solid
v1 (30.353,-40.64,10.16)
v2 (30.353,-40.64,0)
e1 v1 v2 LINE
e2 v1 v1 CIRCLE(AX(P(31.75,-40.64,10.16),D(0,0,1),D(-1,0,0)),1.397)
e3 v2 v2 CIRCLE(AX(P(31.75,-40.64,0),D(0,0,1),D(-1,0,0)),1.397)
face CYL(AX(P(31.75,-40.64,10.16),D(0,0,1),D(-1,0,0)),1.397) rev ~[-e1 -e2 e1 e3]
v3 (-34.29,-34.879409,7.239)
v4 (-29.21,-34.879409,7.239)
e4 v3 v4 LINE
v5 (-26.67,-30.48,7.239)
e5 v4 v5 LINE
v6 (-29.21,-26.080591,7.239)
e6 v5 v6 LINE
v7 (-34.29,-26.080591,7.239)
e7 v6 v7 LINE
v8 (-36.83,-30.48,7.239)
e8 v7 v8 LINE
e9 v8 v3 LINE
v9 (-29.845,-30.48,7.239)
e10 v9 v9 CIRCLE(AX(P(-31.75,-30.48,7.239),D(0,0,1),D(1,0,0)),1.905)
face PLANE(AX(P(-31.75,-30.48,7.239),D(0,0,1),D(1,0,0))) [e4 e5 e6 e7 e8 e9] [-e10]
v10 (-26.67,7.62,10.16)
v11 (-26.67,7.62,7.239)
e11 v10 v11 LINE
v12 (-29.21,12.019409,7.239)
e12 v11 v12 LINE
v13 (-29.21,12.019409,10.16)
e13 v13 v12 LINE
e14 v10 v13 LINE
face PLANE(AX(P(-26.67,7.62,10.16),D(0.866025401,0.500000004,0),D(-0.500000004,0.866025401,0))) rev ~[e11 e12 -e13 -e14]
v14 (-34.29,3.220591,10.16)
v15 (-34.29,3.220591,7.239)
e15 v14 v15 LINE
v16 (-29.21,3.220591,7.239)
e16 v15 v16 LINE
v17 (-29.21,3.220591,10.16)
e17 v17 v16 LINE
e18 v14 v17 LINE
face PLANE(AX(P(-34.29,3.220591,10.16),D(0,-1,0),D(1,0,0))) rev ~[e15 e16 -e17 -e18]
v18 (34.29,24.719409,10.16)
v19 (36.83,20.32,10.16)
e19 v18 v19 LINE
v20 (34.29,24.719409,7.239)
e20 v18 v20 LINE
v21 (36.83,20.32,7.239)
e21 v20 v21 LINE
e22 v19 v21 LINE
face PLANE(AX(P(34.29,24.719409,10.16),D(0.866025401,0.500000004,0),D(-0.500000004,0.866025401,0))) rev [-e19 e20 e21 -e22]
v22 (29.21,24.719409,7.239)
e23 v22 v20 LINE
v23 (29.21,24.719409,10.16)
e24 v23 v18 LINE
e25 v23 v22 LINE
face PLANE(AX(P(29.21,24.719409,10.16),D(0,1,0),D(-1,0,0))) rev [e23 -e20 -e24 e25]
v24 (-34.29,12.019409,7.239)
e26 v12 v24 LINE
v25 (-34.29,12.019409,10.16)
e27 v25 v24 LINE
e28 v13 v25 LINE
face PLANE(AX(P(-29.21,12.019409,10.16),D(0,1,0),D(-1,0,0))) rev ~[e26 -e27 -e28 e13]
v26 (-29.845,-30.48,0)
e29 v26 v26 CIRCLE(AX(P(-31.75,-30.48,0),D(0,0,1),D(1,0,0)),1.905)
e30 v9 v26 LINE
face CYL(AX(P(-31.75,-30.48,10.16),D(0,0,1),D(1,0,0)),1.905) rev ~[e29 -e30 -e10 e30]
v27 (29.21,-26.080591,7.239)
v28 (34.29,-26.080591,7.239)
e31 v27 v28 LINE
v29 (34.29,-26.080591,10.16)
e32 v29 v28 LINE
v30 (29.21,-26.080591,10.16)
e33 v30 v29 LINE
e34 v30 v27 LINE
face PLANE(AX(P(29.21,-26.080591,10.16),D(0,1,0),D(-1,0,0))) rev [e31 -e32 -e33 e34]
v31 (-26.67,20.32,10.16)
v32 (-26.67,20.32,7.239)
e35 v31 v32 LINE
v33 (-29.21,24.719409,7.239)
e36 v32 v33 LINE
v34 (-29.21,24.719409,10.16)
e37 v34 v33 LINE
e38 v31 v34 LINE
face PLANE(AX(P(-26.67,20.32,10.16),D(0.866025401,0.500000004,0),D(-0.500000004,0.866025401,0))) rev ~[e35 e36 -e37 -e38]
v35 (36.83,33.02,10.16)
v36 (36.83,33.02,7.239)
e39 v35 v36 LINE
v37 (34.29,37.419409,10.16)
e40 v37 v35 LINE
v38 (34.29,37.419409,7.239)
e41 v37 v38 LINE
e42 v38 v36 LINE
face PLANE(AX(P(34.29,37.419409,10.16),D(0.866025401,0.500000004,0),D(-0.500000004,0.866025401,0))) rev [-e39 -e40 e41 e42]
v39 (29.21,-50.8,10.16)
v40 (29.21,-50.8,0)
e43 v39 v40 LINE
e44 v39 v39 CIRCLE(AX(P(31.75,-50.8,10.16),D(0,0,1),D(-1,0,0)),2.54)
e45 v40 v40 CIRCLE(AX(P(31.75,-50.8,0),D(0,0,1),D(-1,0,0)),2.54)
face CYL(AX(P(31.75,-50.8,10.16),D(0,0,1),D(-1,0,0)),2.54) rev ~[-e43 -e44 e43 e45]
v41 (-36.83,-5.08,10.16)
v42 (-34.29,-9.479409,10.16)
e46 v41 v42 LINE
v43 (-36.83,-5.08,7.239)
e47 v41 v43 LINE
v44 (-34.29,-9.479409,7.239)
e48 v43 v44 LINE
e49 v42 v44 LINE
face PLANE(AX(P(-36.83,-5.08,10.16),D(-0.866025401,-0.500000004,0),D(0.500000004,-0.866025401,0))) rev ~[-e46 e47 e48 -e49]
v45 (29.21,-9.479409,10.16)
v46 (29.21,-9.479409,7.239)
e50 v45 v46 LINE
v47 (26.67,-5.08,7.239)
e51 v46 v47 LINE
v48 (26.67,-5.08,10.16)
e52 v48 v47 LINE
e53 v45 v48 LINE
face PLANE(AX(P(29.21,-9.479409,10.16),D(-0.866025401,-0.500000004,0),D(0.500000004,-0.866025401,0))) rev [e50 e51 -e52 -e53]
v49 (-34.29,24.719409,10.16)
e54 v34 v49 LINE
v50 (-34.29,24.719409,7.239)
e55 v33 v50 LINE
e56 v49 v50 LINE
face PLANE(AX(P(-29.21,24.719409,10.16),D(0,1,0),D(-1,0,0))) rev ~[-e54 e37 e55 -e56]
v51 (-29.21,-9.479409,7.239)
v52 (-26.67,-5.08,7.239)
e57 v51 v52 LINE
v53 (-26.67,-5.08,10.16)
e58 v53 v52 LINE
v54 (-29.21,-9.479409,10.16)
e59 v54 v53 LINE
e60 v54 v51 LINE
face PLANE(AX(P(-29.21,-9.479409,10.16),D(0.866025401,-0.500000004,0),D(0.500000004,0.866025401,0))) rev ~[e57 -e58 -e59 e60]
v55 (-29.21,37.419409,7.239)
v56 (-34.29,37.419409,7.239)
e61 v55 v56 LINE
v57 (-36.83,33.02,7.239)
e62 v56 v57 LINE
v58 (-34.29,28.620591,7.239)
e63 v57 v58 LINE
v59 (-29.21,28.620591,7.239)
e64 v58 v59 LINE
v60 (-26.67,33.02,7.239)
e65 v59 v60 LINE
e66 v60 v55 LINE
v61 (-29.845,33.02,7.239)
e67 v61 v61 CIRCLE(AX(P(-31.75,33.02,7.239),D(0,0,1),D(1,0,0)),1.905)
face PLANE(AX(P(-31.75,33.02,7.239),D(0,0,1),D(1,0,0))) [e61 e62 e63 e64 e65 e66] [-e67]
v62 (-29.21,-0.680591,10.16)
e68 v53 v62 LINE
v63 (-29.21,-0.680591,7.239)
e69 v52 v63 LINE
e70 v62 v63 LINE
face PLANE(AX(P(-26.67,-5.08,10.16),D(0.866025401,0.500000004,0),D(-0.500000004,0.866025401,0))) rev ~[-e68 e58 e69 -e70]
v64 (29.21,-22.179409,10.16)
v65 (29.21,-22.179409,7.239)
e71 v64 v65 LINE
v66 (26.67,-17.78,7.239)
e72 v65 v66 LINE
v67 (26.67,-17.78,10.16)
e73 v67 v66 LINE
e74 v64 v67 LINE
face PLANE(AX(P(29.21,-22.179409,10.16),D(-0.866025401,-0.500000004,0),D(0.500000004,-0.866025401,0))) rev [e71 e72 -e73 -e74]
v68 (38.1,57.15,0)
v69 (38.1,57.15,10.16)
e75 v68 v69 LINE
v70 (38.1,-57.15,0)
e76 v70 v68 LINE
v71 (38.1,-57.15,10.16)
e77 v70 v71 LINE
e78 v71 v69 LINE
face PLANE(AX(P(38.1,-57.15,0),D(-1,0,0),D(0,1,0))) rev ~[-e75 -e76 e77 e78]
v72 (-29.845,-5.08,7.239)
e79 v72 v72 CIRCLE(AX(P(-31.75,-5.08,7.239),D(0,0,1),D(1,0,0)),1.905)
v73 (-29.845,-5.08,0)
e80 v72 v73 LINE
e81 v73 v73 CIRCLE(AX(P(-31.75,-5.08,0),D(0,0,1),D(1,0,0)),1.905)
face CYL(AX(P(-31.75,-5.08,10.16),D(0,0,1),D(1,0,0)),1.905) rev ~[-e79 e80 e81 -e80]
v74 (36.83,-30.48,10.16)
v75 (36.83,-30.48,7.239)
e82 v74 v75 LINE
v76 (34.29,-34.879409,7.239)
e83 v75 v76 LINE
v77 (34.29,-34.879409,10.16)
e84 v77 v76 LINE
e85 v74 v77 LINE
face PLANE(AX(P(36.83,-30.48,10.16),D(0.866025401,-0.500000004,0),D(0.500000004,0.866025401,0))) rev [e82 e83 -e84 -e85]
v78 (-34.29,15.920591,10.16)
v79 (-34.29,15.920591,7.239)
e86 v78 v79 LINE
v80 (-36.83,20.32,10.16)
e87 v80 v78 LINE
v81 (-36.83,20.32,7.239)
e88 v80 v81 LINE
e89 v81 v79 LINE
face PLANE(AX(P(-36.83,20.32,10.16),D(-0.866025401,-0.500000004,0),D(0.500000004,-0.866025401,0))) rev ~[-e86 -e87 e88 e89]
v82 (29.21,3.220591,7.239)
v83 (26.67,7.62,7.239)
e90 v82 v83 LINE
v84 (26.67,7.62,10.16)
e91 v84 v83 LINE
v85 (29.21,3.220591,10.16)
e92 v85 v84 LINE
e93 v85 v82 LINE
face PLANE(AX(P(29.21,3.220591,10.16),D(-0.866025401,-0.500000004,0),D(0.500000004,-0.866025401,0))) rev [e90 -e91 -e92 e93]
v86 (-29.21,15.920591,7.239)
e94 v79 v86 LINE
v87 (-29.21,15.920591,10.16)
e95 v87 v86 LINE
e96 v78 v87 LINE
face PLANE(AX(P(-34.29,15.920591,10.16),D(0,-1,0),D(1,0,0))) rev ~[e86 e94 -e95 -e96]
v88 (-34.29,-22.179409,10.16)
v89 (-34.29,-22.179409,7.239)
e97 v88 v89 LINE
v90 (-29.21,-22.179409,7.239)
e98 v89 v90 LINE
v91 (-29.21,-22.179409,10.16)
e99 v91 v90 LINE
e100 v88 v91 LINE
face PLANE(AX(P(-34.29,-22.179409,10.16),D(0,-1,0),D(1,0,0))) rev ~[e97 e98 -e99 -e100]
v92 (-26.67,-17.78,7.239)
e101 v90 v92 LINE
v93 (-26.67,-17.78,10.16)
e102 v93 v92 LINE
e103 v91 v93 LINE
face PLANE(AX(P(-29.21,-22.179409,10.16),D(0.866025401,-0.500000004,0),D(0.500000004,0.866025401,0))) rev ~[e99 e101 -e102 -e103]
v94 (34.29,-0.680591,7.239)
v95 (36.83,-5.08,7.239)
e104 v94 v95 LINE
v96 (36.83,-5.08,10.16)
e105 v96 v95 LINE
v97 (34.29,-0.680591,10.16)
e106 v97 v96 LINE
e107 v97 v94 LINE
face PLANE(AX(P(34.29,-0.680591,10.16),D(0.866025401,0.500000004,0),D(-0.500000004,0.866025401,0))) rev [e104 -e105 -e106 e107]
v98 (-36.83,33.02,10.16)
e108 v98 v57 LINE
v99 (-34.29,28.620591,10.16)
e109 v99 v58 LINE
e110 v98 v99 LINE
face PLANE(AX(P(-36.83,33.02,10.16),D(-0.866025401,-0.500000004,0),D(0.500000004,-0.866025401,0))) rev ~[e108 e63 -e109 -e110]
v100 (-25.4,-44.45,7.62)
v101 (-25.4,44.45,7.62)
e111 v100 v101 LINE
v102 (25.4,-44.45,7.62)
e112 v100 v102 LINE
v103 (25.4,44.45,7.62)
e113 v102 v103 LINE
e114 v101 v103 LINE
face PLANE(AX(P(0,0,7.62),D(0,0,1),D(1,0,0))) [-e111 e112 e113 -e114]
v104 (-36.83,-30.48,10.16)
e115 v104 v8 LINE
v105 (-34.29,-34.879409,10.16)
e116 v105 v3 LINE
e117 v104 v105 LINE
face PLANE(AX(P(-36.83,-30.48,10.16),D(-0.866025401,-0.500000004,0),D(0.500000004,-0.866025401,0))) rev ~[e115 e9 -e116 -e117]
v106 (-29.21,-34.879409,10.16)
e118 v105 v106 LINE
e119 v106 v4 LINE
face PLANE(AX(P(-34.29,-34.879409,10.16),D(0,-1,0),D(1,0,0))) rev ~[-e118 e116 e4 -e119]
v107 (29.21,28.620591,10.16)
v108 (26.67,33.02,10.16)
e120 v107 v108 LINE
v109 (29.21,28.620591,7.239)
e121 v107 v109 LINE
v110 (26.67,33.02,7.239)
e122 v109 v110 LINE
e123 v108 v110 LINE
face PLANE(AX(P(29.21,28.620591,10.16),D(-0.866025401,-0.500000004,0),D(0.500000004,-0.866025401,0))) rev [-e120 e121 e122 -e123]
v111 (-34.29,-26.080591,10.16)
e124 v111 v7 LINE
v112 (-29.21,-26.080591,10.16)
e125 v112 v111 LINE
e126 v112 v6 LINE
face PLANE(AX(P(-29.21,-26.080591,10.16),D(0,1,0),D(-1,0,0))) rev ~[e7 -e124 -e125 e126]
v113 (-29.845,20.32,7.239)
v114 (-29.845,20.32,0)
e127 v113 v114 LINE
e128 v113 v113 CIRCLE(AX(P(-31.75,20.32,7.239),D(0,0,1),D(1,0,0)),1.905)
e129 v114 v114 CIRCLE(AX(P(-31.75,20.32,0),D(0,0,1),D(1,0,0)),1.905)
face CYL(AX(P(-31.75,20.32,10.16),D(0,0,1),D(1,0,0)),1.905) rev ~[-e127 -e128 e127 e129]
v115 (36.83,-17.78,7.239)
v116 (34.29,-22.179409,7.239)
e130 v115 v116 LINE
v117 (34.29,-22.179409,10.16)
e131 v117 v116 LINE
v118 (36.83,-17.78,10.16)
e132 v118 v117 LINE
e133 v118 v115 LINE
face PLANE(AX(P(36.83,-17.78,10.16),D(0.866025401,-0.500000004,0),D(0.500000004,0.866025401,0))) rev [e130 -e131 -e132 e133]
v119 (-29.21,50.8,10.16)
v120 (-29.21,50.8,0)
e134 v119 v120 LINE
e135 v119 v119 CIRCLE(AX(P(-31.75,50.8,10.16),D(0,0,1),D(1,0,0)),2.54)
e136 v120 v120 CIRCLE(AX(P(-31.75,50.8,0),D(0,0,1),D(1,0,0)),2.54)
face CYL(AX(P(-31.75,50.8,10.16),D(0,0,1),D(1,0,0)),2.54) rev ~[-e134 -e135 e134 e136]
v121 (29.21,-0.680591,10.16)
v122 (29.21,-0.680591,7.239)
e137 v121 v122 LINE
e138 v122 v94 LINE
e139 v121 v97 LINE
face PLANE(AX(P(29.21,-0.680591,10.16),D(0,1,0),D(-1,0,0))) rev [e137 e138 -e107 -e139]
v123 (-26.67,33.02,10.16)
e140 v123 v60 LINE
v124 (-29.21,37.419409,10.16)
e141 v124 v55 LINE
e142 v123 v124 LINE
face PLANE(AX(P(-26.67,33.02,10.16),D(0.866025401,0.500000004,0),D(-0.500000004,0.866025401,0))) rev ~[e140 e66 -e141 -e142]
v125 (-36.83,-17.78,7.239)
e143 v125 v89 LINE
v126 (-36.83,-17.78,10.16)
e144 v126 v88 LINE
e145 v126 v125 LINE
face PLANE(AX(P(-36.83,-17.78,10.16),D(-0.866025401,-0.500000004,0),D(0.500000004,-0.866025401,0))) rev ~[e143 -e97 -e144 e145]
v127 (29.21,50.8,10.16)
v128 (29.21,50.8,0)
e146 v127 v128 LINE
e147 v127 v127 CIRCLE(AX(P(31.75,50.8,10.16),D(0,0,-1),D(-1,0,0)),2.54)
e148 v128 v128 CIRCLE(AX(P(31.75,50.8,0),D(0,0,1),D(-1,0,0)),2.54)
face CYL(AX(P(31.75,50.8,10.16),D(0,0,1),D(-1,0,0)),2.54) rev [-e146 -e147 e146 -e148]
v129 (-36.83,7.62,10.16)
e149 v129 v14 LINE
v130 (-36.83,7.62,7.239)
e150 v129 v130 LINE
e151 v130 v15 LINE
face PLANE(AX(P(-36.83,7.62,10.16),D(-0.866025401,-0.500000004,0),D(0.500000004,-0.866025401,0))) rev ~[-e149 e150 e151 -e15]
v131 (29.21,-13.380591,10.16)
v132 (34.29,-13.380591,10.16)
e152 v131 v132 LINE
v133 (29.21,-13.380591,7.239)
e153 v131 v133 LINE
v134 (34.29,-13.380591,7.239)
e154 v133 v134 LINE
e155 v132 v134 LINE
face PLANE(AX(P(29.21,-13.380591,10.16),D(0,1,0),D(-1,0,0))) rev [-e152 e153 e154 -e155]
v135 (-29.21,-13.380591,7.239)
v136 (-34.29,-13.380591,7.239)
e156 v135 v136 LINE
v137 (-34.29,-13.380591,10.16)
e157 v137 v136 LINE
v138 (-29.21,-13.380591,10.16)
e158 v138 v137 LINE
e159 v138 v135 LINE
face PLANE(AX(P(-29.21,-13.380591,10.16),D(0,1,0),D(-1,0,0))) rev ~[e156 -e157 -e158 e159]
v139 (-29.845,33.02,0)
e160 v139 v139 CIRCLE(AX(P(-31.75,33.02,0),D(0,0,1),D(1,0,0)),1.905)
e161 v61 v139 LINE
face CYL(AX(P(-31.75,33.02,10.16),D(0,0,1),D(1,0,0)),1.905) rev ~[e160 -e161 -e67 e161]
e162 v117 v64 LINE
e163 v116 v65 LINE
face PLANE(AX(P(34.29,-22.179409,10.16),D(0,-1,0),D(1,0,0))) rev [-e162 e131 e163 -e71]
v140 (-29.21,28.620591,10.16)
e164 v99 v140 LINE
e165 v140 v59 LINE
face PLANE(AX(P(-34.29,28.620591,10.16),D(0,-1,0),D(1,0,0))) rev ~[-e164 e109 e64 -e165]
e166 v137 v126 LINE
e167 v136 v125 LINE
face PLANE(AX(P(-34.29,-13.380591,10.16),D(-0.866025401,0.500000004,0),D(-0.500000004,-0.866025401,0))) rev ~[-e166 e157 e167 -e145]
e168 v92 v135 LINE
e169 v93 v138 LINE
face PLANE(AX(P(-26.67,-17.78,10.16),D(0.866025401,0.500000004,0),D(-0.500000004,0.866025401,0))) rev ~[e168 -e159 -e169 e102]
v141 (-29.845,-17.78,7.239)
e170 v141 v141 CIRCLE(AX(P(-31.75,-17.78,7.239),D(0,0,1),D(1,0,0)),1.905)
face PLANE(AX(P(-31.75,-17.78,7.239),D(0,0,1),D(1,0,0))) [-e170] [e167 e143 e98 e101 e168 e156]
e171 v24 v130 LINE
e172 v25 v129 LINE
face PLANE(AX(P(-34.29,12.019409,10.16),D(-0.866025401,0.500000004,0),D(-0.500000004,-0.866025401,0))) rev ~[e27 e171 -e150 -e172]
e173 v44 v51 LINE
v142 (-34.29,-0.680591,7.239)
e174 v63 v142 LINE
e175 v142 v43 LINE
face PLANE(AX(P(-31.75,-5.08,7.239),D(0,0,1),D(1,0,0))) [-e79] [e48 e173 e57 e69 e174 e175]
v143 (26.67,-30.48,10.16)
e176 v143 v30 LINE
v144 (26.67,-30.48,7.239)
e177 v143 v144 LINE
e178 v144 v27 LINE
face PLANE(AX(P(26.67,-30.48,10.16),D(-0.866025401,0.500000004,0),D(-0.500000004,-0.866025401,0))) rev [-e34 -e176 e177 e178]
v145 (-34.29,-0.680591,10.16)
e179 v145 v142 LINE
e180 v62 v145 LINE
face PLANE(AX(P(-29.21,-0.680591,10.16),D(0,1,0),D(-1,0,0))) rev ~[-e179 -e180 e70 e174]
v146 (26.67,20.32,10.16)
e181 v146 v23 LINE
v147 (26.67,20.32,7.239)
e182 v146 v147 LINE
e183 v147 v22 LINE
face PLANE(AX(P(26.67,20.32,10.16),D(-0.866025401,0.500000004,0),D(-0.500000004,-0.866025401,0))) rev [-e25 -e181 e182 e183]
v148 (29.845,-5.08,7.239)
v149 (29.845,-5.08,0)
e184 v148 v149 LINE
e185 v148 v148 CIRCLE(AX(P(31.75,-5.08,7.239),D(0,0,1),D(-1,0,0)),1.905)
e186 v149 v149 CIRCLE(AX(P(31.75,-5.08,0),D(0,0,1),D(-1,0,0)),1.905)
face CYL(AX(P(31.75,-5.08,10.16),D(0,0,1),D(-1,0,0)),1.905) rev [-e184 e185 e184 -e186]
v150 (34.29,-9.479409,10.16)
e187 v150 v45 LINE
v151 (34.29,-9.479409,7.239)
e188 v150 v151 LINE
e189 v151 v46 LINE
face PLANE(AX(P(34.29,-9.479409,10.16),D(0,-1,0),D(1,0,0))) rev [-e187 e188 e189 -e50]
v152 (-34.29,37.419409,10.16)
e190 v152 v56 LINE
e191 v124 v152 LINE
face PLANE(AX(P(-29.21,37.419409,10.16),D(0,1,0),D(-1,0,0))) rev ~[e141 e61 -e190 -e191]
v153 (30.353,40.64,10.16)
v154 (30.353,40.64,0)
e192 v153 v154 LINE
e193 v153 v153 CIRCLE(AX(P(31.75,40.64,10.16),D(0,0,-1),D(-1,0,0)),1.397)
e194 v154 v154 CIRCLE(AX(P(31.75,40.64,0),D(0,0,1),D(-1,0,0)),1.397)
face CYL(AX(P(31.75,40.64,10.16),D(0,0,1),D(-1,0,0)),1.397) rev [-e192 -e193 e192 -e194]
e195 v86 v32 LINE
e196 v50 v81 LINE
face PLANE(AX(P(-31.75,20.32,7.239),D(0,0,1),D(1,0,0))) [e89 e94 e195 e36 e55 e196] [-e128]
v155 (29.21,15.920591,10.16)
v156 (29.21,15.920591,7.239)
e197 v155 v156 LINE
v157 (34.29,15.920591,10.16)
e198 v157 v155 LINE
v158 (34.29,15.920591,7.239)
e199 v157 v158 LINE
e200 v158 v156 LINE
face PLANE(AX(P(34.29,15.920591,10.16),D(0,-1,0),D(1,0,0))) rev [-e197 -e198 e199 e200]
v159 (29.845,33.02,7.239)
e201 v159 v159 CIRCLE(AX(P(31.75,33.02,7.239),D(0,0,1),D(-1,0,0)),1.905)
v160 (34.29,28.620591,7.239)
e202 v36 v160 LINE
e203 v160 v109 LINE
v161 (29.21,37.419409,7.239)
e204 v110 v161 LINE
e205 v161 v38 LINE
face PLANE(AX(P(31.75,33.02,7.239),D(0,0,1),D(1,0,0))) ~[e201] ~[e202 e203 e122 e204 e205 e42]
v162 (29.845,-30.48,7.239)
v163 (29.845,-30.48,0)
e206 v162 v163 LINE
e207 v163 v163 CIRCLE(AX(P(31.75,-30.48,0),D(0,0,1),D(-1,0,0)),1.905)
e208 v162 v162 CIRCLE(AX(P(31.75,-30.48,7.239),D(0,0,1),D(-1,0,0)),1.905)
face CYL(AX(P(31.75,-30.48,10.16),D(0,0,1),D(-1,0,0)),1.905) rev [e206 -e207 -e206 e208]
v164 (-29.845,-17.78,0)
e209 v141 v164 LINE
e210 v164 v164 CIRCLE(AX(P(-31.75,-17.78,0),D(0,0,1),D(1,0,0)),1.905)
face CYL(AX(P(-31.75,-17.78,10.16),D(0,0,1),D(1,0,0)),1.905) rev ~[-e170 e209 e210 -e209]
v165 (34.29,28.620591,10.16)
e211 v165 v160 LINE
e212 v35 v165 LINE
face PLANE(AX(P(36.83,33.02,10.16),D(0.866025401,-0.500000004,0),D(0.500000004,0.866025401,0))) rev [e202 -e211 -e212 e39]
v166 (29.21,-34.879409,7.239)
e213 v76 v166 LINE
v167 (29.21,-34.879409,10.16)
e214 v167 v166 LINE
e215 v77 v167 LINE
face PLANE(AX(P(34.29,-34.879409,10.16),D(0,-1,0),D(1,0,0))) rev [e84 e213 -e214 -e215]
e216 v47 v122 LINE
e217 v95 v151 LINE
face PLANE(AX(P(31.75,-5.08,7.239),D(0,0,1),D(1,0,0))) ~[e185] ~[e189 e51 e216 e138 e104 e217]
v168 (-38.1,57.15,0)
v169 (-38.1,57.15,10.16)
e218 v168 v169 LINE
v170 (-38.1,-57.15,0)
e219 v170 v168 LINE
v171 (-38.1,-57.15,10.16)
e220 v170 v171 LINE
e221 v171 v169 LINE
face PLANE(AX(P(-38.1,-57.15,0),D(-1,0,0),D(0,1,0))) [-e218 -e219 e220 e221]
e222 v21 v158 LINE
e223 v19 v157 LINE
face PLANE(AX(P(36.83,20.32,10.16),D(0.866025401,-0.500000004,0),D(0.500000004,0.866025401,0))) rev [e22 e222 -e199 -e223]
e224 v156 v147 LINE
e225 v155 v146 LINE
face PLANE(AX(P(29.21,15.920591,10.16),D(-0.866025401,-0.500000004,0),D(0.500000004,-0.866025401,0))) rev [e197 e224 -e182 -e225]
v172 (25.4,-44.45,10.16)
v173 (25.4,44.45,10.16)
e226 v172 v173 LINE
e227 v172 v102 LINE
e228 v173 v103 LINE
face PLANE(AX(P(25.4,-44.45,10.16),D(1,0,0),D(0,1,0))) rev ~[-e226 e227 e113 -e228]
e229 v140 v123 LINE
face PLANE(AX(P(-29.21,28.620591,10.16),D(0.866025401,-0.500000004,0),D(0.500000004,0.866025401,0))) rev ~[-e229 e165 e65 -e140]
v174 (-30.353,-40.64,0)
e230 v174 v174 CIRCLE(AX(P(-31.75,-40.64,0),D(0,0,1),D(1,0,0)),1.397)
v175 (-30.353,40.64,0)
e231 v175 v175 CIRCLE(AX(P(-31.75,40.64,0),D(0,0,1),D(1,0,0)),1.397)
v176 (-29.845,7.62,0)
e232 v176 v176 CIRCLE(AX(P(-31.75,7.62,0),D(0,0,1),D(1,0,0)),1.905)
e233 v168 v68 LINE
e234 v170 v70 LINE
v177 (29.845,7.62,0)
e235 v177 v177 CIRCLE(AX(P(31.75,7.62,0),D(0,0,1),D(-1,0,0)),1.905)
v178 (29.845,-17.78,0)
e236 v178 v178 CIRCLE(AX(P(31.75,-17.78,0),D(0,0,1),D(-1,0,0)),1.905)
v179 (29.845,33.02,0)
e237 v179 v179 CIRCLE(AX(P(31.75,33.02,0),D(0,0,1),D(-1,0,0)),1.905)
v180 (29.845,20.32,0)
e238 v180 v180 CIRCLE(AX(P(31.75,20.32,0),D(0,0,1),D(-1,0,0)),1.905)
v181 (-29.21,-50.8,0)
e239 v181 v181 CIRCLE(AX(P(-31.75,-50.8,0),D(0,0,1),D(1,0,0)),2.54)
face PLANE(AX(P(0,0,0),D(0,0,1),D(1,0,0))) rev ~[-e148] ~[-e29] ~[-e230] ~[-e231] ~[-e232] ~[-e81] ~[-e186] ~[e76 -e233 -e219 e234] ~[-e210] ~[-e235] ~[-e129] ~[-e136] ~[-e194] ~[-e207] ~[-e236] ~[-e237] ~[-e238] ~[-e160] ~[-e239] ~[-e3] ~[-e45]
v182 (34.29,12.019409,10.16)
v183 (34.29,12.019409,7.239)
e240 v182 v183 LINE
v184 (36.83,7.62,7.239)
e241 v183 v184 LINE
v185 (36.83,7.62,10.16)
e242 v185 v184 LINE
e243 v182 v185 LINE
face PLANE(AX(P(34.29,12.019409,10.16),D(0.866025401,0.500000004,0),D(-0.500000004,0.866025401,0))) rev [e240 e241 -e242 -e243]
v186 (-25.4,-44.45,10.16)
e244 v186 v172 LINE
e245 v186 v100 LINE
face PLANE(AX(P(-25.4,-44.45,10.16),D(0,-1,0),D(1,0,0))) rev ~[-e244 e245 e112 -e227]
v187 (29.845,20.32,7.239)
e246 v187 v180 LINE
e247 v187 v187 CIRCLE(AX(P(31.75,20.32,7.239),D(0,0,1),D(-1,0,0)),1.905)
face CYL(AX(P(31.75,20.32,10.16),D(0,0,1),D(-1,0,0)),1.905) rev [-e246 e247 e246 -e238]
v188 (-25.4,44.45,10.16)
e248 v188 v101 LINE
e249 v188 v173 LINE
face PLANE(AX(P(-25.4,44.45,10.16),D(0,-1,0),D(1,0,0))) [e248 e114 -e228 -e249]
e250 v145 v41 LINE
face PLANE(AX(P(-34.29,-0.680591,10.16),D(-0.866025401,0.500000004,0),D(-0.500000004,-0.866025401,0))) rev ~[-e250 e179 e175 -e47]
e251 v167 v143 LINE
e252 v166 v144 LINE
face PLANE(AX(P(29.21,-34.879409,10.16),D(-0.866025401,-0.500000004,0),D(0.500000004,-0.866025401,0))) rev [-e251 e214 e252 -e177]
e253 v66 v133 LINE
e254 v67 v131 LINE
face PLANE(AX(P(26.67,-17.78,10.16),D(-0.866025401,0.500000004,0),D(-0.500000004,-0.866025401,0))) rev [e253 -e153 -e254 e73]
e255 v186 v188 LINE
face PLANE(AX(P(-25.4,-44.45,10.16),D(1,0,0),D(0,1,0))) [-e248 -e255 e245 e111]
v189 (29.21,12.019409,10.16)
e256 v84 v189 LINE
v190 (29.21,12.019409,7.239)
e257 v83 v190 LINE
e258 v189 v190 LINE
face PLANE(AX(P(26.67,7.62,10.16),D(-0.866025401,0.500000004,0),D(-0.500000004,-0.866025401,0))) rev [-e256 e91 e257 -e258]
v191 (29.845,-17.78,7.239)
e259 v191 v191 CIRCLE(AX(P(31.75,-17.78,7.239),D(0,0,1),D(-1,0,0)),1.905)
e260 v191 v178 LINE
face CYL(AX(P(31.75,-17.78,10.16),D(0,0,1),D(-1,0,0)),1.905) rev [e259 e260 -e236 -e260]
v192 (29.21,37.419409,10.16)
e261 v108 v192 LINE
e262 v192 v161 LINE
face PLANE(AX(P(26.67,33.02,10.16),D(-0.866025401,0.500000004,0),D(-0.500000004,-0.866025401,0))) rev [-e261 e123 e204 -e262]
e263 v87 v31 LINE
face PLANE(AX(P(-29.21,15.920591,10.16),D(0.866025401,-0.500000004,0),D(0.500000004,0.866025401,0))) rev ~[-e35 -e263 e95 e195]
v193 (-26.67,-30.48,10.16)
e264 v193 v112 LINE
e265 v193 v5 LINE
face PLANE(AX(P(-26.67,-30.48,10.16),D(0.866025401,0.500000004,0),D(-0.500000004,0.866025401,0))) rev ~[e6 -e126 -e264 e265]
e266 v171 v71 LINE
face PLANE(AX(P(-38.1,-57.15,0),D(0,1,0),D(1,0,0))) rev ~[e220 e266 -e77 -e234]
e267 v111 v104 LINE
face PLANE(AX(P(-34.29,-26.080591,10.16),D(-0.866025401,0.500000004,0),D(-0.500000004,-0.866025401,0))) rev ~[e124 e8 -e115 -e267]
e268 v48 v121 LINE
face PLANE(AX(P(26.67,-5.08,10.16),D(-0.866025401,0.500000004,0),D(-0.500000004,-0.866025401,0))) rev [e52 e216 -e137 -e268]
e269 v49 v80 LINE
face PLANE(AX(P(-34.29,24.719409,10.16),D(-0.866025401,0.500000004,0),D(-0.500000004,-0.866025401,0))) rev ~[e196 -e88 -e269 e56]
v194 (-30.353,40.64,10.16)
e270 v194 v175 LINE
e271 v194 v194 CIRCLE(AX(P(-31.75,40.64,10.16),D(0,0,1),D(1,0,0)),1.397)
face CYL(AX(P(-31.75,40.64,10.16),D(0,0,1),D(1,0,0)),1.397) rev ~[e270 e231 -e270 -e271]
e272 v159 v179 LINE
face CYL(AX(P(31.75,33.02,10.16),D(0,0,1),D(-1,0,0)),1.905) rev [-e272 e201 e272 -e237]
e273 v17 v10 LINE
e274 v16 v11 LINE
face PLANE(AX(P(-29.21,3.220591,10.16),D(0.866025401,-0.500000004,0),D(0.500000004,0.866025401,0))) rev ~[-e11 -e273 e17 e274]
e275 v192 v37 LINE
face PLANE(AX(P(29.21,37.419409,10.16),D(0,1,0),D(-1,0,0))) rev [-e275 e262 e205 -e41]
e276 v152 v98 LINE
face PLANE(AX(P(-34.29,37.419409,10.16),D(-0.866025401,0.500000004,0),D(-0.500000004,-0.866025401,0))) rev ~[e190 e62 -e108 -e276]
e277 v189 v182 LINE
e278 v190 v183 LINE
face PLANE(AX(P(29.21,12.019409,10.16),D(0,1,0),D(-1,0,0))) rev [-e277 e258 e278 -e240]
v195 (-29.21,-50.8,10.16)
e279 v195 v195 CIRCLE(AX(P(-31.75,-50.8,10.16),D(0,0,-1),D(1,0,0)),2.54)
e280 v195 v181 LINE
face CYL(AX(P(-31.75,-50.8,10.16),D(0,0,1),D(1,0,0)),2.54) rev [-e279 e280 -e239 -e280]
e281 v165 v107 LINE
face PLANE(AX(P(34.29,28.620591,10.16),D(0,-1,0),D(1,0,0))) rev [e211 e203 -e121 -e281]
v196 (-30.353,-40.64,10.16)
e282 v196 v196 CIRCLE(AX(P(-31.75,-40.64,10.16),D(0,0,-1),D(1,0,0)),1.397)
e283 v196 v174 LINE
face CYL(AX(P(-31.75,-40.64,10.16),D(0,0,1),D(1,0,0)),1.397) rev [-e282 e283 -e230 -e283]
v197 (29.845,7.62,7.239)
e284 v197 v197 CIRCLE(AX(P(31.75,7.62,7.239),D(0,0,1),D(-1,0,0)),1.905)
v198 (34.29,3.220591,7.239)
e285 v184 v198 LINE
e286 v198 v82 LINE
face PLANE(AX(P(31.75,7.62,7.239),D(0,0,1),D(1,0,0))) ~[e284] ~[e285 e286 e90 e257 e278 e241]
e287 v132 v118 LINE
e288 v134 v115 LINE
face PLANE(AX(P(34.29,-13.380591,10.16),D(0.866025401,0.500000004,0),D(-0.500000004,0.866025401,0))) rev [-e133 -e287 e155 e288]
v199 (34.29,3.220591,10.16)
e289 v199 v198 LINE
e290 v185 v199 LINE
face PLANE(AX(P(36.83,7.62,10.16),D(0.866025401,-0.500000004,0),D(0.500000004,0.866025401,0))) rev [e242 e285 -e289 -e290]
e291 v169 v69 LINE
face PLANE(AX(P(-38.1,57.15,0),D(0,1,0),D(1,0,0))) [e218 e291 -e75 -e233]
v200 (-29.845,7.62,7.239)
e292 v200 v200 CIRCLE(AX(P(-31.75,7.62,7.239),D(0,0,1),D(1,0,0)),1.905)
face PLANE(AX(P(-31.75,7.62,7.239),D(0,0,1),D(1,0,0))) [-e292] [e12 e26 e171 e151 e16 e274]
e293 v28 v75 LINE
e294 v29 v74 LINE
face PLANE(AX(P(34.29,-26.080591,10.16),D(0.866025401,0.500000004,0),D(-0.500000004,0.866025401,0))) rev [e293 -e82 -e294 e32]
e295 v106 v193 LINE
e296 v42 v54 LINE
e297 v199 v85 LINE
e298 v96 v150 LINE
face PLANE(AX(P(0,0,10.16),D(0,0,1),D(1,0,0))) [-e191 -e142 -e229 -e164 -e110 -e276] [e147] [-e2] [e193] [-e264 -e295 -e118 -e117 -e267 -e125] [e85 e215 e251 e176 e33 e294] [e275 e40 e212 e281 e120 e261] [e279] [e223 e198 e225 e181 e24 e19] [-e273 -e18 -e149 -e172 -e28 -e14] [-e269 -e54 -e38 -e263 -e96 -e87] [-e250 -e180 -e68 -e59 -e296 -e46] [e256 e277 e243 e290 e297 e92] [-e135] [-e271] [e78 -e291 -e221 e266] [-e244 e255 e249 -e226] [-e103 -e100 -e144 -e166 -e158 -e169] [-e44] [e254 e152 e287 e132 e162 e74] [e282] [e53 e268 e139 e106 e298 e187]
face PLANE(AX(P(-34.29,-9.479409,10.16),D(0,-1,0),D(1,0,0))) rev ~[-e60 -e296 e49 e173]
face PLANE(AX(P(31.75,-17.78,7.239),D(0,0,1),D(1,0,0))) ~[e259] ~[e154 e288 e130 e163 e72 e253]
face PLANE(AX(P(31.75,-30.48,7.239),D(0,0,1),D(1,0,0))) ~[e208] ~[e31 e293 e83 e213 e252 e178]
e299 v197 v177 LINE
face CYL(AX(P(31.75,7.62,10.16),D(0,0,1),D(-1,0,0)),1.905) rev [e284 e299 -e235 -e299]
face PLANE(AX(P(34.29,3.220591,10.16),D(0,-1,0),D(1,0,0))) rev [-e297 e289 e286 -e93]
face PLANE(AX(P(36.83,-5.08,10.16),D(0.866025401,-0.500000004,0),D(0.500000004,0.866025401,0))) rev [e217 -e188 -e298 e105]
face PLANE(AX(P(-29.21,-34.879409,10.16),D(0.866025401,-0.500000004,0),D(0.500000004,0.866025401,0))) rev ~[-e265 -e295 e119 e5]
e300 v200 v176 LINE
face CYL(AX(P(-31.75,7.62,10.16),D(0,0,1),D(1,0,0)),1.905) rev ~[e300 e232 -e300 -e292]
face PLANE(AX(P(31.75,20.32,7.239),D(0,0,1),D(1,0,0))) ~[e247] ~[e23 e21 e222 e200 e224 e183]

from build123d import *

# Parameters (mm, degrees)
SKETCH_W                           = 76.2
SKETCH_H                           = 114.3
PAD_DEPTH                          = 10.16
SKETCH001_R                        = 1.397
HOLE_DEPTH                         = 285.654416
SKETCH002_R                        = 1.905
HOLE001_DEPTH                      = 285.654416
SKETCH001_MIRRORED_2_R             = 1.397
HOLE_MIRRORED_2_DEPTH              = 285.654416
SKETCH002_LINEARPATTERN_2_R        = 1.905
HOLE001_LINEARPATTERN_2_DEPTH      = 285.654416
SKETCH002_LINEARPATTERN_3_R        = 1.905
HOLE001_LINEARPATTERN_3_DEPTH      = 285.654416
SKETCH002_LINEARPATTERN_4_R        = 1.905
HOLE001_LINEARPATTERN_4_DEPTH      = 285.654416
SKETCH002_LINEARPATTERN_5_R        = 1.905
HOLE001_LINEARPATTERN_5_DEPTH      = 285.654416
SKETCH002_LINEARPATTERN_6_R        = 1.905
HOLE001_LINEARPATTERN_6_DEPTH      = 285.654416
SKETCH003_W                        = 50.8
SKETCH003_H                        = 88.9
POCKET_DEPTH                       = 2.54
SKETCH004_R                        = 2.54
HOLE002_DEPTH                      = 285.654416
SKETCH004_MIRRORED003_2_R          = 2.54
HOLE002_MIRRORED003_2_DEPTH        = 285.654416
POCKET001_DEPTH                    = 2.921
POCKET001_LINEARPATTERN001_2_DEPTH = 2.921
POCKET001_LINEARPATTERN001_3_DEPTH = 2.921
POCKET001_LINEARPATTERN001_4_DEPTH = 2.921
POCKET001_LINEARPATTERN001_5_DEPTH = 2.921
POCKET001_LINEARPATTERN001_6_DEPTH = 2.921


with BuildPart() as part:
    # Sketch → Pad (new body)
    with BuildSketch(Plane.XY):
        Rectangle(SKETCH_W, SKETCH_H)
    extrude(amount=PAD_DEPTH)

    # Sketch001 (on Face6 of Pad) → Hole (cut, through all)
    with BuildSketch(Plane.XY.offset(10.16)):
        with Locations((-31.75, 40.64)):
            Circle(SKETCH001_R)
    hole = extrude(amount=-HOLE_DEPTH, mode=Mode.SUBTRACT)

    # Sketch002 (on Face5 of Hole) → Hole001 (cut, through all)
    with BuildSketch(Plane.XY.offset(10.16)):
        with Locations((-31.75, 33.02)):
            Circle(SKETCH002_R)
    hole001 = extrude(amount=-HOLE001_DEPTH, mode=Mode.SUBTRACT)

    # Sketch001 Mirrored 2 → Hole Mirrored 2 (cut, through all)
    with BuildSketch(Plane(origin=(0, 0, 10.16), x_dir=(-1, 0, 0), z_dir=(0, 0, -1))):
        with Locations((-31.75, 40.64)):
            Circle(SKETCH001_MIRRORED_2_R)
    hole_mirrored_2 = extrude(amount=HOLE_MIRRORED_2_DEPTH, mode=Mode.SUBTRACT)

    # Mirrored001: Hole, Hole Mirrored 2 across Sketch001 H_Axis
    add(hole.mirror(Plane(origin=(0, 0, 10.16), x_dir=(0, 0, 1), z_dir=(0, 1, 0))), mode=Mode.SUBTRACT)
    add(hole_mirrored_2.mirror(Plane(origin=(0, 0, 10.16), x_dir=(0, 0, 1), z_dir=(0, 1, 0))), mode=Mode.SUBTRACT)

    # Sketch002 LinearPattern 2 → Hole001 LinearPattern 2 (cut, through all)
    with BuildSketch(Plane(origin=(0, -12.7, 10.16), x_dir=(1, 0, 0), z_dir=(0, 0, 1))):
        with Locations((-31.75, 33.02)):
            Circle(SKETCH002_LINEARPATTERN_2_R)
    hole001_linearpattern_2 = extrude(amount=-HOLE001_LINEARPATTERN_2_DEPTH, mode=Mode.SUBTRACT)

    # Sketch002 LinearPattern 3 → Hole001 LinearPattern 3 (cut, through all)
    with BuildSketch(Plane(origin=(0, -25.4, 10.16), x_dir=(1, 0, 0), z_dir=(0, 0, 1))):
        with Locations((-31.75, 33.02)):
            Circle(SKETCH002_LINEARPATTERN_3_R)
    hole001_linearpattern_3 = extrude(amount=-HOLE001_LINEARPATTERN_3_DEPTH, mode=Mode.SUBTRACT)

    # Sketch002 LinearPattern 4 → Hole001 LinearPattern 4 (cut, through all)
    with BuildSketch(Plane(origin=(0, -38.1, 10.16), x_dir=(1, 0, 0), z_dir=(0, 0, 1))):
        with Locations((-31.75, 33.02)):
            Circle(SKETCH002_LINEARPATTERN_4_R)
    hole001_linearpattern_4 = extrude(amount=-HOLE001_LINEARPATTERN_4_DEPTH, mode=Mode.SUBTRACT)

    # Sketch002 LinearPattern 5 → Hole001 LinearPattern 5 (cut, through all)
    with BuildSketch(Plane(origin=(0, -50.8, 10.16), x_dir=(1, 0, 0), z_dir=(0, 0, 1))):
        with Locations((-31.75, 33.02)):
            Circle(SKETCH002_LINEARPATTERN_5_R)
    hole001_linearpattern_5 = extrude(amount=-HOLE001_LINEARPATTERN_5_DEPTH, mode=Mode.SUBTRACT)

    # Sketch002 LinearPattern 6 → Hole001 LinearPattern 6 (cut, through all)
    with BuildSketch(Plane(origin=(0, -63.5, 10.16), x_dir=(1, 0, 0), z_dir=(0, 0, 1))):
        with Locations((-31.75, 33.02)):
            Circle(SKETCH002_LINEARPATTERN_6_R)
    hole001_linearpattern_6 = extrude(amount=-HOLE001_LINEARPATTERN_6_DEPTH, mode=Mode.SUBTRACT)

    # Mirrored002: Hole001, Hole001 LinearPattern 2, Hole001 LinearPattern 3, Hole001 LinearPattern 4, Hole001 LinearPattern 5, Hole001 LinearPattern 6 across Sketch002 V_Axis
    add(hole001.mirror(Plane(origin=(0, 0, 10.16), x_dir=(0, 0, 1), z_dir=(1, 0, 0))), mode=Mode.SUBTRACT)
    add(hole001_linearpattern_2.mirror(Plane(origin=(0, 0, 10.16), x_dir=(0, 0, 1), z_dir=(1, 0, 0))), mode=Mode.SUBTRACT)
    add(hole001_linearpattern_3.mirror(Plane(origin=(0, 0, 10.16), x_dir=(0, 0, 1), z_dir=(1, 0, 0))), mode=Mode.SUBTRACT)
    add(hole001_linearpattern_4.mirror(Plane(origin=(0, 0, 10.16), x_dir=(0, 0, 1), z_dir=(1, 0, 0))), mode=Mode.SUBTRACT)
    add(hole001_linearpattern_5.mirror(Plane(origin=(0, 0, 10.16), x_dir=(0, 0, 1), z_dir=(1, 0, 0))), mode=Mode.SUBTRACT)
    add(hole001_linearpattern_6.mirror(Plane(origin=(0, 0, 10.16), x_dir=(0, 0, 1), z_dir=(1, 0, 0))), mode=Mode.SUBTRACT)

    # Sketch003 (on Face5 of MultiTransform001) → Pocket (cut)
    with BuildSketch(Plane.XY.offset(10.16)):
        Rectangle(SKETCH003_W, SKETCH003_H)
    extrude(amount=-POCKET_DEPTH, mode=Mode.SUBTRACT)

    # Sketch004 (on Face5 of Pocket) → Hole002 (cut, through all)
    with BuildSketch(Plane.XY.offset(10.16)):
        with Locations((-31.75, 50.8)):
            Circle(SKETCH004_R)
    hole002 = extrude(amount=-HOLE002_DEPTH, mode=Mode.SUBTRACT)

    # Sketch004 Mirrored003 2 → Hole002 Mirrored003 2 (cut, through all)
    with BuildSketch(Plane(origin=(0, 0, 10.16), x_dir=(-1, 0, 0), z_dir=(0, 0, -1))):
        with Locations((-31.75, 50.8)):
            Circle(SKETCH004_MIRRORED003_2_R)
    hole002_mirrored003_2 = extrude(amount=HOLE002_MIRRORED003_2_DEPTH, mode=Mode.SUBTRACT)

    # Mirrored004: Hole002, Hole002 Mirrored003 2 across Sketch004 H_Axis
    add(hole002.mirror(Plane(origin=(0, 0, 10.16), x_dir=(0, 0, 1), z_dir=(0, 1, 0))), mode=Mode.SUBTRACT)
    add(hole002_mirrored003_2.mirror(Plane(origin=(0, 0, 10.16), x_dir=(0, 0, 1), z_dir=(0, 1, 0))), mode=Mode.SUBTRACT)

    # Sketch005 (on Face5 of MultiTransform002) → Pocket001 (cut)
    with BuildSketch(Plane.XY.offset(10.16)):
        Polygon((-29.21, 37.419409), (-34.29, 37.419409), (-36.83, 33.02), (-34.29, 28.620591), (-29.21, 28.620591), (-26.67, 33.02), align=None)
    pocket001 = extrude(amount=-POCKET001_DEPTH, mode=Mode.SUBTRACT)

    # Sketch005 LinearPattern001 2 → Pocket001 LinearPattern001 2 (cut)
    with BuildSketch(Plane(origin=(0, -12.7, 10.16), x_dir=(1, 0, 0), z_dir=(0, 0, 1))):
        Polygon((-29.21, 37.419409), (-34.29, 37.419409), (-36.83, 33.02), (-34.29, 28.620591), (-29.21, 28.620591), (-26.67, 33.02), align=None)
    pocket001_linearpattern001_2 = extrude(amount=-POCKET001_LINEARPATTERN001_2_DEPTH, mode=Mode.SUBTRACT)

    # Sketch005 LinearPattern001 3 → Pocket001 LinearPattern001 3 (cut)
    with BuildSketch(Plane(origin=(0, -25.4, 10.16), x_dir=(1, 0, 0), z_dir=(0, 0, 1))):
        Polygon((-29.21, 37.419409), (-34.29, 37.419409), (-36.83, 33.02), (-34.29, 28.620591), (-29.21, 28.620591), (-26.67, 33.02), align=None)
    pocket001_linearpattern001_3 = extrude(amount=-POCKET001_LINEARPATTERN001_3_DEPTH, mode=Mode.SUBTRACT)

    # Sketch005 LinearPattern001 4 → Pocket001 LinearPattern001 4 (cut)
    with BuildSketch(Plane(origin=(0, -38.1, 10.16), x_dir=(1, 0, 0), z_dir=(0, 0, 1))):
        Polygon((-29.21, 37.419409), (-34.29, 37.419409), (-36.83, 33.02), (-34.29, 28.620591), (-29.21, 28.620591), (-26.67, 33.02), align=None)
    pocket001_linearpattern001_4 = extrude(amount=-POCKET001_LINEARPATTERN001_4_DEPTH, mode=Mode.SUBTRACT)

    # Sketch005 LinearPattern001 5 → Pocket001 LinearPattern001 5 (cut)
    with BuildSketch(Plane(origin=(0, -50.8, 10.16), x_dir=(1, 0, 0), z_dir=(0, 0, 1))):
        Polygon((-29.21, 37.419409), (-34.29, 37.419409), (-36.83, 33.02), (-34.29, 28.620591), (-29.21, 28.620591), (-26.67, 33.02), align=None)
    pocket001_linearpattern001_5 = extrude(amount=-POCKET001_LINEARPATTERN001_5_DEPTH, mode=Mode.SUBTRACT)

    # Sketch005 LinearPattern001 6 → Pocket001 LinearPattern001 6 (cut)
    with BuildSketch(Plane(origin=(0, -63.5, 10.16), x_dir=(1, 0, 0), z_dir=(0, 0, 1))):
        Polygon((-29.21, 37.419409), (-34.29, 37.419409), (-36.83, 33.02), (-34.29, 28.620591), (-29.21, 28.620591), (-26.67, 33.02), align=None)
    pocket001_linearpattern001_6 = extrude(amount=-POCKET001_LINEARPATTERN001_6_DEPTH, mode=Mode.SUBTRACT)

    # Mirrored005: Pocket001, Pocket001 LinearPattern001 2, Pocket001 LinearPattern001 3, Pocket001 LinearPattern001 4, Pocket001 LinearPattern001 5, Pocket001 LinearPattern001 6 across Sketch005 V_Axis
    add(pocket001.mirror(Plane(origin=(0, 0, 10.16), x_dir=(0, 0, 1), z_dir=(1, 0, 0))), mode=Mode.SUBTRACT)
    add(pocket001_linearpattern001_2.mirror(Plane(origin=(0, 0, 10.16), x_dir=(0, 0, 1), z_dir=(1, 0, 0))), mode=Mode.SUBTRACT)
    add(pocket001_linearpattern001_3.mirror(Plane(origin=(0, 0, 10.16), x_dir=(0, 0, 1), z_dir=(1, 0, 0))), mode=Mode.SUBTRACT)
    add(pocket001_linearpattern001_4.mirror(Plane(origin=(0, 0, 10.16), x_dir=(0, 0, 1), z_dir=(1, 0, 0))), mode=Mode.SUBTRACT)
    add(pocket001_linearpattern001_5.mirror(Plane(origin=(0, 0, 10.16), x_dir=(0, 0, 1), z_dir=(1, 0, 0))), mode=Mode.SUBTRACT)
    add(pocket001_linearpattern001_6.mirror(Plane(origin=(0, 0, 10.16), x_dir=(0, 0, 1), z_dir=(1, 0, 0))), mode=Mode.SUBTRACT)


solid = part.part
